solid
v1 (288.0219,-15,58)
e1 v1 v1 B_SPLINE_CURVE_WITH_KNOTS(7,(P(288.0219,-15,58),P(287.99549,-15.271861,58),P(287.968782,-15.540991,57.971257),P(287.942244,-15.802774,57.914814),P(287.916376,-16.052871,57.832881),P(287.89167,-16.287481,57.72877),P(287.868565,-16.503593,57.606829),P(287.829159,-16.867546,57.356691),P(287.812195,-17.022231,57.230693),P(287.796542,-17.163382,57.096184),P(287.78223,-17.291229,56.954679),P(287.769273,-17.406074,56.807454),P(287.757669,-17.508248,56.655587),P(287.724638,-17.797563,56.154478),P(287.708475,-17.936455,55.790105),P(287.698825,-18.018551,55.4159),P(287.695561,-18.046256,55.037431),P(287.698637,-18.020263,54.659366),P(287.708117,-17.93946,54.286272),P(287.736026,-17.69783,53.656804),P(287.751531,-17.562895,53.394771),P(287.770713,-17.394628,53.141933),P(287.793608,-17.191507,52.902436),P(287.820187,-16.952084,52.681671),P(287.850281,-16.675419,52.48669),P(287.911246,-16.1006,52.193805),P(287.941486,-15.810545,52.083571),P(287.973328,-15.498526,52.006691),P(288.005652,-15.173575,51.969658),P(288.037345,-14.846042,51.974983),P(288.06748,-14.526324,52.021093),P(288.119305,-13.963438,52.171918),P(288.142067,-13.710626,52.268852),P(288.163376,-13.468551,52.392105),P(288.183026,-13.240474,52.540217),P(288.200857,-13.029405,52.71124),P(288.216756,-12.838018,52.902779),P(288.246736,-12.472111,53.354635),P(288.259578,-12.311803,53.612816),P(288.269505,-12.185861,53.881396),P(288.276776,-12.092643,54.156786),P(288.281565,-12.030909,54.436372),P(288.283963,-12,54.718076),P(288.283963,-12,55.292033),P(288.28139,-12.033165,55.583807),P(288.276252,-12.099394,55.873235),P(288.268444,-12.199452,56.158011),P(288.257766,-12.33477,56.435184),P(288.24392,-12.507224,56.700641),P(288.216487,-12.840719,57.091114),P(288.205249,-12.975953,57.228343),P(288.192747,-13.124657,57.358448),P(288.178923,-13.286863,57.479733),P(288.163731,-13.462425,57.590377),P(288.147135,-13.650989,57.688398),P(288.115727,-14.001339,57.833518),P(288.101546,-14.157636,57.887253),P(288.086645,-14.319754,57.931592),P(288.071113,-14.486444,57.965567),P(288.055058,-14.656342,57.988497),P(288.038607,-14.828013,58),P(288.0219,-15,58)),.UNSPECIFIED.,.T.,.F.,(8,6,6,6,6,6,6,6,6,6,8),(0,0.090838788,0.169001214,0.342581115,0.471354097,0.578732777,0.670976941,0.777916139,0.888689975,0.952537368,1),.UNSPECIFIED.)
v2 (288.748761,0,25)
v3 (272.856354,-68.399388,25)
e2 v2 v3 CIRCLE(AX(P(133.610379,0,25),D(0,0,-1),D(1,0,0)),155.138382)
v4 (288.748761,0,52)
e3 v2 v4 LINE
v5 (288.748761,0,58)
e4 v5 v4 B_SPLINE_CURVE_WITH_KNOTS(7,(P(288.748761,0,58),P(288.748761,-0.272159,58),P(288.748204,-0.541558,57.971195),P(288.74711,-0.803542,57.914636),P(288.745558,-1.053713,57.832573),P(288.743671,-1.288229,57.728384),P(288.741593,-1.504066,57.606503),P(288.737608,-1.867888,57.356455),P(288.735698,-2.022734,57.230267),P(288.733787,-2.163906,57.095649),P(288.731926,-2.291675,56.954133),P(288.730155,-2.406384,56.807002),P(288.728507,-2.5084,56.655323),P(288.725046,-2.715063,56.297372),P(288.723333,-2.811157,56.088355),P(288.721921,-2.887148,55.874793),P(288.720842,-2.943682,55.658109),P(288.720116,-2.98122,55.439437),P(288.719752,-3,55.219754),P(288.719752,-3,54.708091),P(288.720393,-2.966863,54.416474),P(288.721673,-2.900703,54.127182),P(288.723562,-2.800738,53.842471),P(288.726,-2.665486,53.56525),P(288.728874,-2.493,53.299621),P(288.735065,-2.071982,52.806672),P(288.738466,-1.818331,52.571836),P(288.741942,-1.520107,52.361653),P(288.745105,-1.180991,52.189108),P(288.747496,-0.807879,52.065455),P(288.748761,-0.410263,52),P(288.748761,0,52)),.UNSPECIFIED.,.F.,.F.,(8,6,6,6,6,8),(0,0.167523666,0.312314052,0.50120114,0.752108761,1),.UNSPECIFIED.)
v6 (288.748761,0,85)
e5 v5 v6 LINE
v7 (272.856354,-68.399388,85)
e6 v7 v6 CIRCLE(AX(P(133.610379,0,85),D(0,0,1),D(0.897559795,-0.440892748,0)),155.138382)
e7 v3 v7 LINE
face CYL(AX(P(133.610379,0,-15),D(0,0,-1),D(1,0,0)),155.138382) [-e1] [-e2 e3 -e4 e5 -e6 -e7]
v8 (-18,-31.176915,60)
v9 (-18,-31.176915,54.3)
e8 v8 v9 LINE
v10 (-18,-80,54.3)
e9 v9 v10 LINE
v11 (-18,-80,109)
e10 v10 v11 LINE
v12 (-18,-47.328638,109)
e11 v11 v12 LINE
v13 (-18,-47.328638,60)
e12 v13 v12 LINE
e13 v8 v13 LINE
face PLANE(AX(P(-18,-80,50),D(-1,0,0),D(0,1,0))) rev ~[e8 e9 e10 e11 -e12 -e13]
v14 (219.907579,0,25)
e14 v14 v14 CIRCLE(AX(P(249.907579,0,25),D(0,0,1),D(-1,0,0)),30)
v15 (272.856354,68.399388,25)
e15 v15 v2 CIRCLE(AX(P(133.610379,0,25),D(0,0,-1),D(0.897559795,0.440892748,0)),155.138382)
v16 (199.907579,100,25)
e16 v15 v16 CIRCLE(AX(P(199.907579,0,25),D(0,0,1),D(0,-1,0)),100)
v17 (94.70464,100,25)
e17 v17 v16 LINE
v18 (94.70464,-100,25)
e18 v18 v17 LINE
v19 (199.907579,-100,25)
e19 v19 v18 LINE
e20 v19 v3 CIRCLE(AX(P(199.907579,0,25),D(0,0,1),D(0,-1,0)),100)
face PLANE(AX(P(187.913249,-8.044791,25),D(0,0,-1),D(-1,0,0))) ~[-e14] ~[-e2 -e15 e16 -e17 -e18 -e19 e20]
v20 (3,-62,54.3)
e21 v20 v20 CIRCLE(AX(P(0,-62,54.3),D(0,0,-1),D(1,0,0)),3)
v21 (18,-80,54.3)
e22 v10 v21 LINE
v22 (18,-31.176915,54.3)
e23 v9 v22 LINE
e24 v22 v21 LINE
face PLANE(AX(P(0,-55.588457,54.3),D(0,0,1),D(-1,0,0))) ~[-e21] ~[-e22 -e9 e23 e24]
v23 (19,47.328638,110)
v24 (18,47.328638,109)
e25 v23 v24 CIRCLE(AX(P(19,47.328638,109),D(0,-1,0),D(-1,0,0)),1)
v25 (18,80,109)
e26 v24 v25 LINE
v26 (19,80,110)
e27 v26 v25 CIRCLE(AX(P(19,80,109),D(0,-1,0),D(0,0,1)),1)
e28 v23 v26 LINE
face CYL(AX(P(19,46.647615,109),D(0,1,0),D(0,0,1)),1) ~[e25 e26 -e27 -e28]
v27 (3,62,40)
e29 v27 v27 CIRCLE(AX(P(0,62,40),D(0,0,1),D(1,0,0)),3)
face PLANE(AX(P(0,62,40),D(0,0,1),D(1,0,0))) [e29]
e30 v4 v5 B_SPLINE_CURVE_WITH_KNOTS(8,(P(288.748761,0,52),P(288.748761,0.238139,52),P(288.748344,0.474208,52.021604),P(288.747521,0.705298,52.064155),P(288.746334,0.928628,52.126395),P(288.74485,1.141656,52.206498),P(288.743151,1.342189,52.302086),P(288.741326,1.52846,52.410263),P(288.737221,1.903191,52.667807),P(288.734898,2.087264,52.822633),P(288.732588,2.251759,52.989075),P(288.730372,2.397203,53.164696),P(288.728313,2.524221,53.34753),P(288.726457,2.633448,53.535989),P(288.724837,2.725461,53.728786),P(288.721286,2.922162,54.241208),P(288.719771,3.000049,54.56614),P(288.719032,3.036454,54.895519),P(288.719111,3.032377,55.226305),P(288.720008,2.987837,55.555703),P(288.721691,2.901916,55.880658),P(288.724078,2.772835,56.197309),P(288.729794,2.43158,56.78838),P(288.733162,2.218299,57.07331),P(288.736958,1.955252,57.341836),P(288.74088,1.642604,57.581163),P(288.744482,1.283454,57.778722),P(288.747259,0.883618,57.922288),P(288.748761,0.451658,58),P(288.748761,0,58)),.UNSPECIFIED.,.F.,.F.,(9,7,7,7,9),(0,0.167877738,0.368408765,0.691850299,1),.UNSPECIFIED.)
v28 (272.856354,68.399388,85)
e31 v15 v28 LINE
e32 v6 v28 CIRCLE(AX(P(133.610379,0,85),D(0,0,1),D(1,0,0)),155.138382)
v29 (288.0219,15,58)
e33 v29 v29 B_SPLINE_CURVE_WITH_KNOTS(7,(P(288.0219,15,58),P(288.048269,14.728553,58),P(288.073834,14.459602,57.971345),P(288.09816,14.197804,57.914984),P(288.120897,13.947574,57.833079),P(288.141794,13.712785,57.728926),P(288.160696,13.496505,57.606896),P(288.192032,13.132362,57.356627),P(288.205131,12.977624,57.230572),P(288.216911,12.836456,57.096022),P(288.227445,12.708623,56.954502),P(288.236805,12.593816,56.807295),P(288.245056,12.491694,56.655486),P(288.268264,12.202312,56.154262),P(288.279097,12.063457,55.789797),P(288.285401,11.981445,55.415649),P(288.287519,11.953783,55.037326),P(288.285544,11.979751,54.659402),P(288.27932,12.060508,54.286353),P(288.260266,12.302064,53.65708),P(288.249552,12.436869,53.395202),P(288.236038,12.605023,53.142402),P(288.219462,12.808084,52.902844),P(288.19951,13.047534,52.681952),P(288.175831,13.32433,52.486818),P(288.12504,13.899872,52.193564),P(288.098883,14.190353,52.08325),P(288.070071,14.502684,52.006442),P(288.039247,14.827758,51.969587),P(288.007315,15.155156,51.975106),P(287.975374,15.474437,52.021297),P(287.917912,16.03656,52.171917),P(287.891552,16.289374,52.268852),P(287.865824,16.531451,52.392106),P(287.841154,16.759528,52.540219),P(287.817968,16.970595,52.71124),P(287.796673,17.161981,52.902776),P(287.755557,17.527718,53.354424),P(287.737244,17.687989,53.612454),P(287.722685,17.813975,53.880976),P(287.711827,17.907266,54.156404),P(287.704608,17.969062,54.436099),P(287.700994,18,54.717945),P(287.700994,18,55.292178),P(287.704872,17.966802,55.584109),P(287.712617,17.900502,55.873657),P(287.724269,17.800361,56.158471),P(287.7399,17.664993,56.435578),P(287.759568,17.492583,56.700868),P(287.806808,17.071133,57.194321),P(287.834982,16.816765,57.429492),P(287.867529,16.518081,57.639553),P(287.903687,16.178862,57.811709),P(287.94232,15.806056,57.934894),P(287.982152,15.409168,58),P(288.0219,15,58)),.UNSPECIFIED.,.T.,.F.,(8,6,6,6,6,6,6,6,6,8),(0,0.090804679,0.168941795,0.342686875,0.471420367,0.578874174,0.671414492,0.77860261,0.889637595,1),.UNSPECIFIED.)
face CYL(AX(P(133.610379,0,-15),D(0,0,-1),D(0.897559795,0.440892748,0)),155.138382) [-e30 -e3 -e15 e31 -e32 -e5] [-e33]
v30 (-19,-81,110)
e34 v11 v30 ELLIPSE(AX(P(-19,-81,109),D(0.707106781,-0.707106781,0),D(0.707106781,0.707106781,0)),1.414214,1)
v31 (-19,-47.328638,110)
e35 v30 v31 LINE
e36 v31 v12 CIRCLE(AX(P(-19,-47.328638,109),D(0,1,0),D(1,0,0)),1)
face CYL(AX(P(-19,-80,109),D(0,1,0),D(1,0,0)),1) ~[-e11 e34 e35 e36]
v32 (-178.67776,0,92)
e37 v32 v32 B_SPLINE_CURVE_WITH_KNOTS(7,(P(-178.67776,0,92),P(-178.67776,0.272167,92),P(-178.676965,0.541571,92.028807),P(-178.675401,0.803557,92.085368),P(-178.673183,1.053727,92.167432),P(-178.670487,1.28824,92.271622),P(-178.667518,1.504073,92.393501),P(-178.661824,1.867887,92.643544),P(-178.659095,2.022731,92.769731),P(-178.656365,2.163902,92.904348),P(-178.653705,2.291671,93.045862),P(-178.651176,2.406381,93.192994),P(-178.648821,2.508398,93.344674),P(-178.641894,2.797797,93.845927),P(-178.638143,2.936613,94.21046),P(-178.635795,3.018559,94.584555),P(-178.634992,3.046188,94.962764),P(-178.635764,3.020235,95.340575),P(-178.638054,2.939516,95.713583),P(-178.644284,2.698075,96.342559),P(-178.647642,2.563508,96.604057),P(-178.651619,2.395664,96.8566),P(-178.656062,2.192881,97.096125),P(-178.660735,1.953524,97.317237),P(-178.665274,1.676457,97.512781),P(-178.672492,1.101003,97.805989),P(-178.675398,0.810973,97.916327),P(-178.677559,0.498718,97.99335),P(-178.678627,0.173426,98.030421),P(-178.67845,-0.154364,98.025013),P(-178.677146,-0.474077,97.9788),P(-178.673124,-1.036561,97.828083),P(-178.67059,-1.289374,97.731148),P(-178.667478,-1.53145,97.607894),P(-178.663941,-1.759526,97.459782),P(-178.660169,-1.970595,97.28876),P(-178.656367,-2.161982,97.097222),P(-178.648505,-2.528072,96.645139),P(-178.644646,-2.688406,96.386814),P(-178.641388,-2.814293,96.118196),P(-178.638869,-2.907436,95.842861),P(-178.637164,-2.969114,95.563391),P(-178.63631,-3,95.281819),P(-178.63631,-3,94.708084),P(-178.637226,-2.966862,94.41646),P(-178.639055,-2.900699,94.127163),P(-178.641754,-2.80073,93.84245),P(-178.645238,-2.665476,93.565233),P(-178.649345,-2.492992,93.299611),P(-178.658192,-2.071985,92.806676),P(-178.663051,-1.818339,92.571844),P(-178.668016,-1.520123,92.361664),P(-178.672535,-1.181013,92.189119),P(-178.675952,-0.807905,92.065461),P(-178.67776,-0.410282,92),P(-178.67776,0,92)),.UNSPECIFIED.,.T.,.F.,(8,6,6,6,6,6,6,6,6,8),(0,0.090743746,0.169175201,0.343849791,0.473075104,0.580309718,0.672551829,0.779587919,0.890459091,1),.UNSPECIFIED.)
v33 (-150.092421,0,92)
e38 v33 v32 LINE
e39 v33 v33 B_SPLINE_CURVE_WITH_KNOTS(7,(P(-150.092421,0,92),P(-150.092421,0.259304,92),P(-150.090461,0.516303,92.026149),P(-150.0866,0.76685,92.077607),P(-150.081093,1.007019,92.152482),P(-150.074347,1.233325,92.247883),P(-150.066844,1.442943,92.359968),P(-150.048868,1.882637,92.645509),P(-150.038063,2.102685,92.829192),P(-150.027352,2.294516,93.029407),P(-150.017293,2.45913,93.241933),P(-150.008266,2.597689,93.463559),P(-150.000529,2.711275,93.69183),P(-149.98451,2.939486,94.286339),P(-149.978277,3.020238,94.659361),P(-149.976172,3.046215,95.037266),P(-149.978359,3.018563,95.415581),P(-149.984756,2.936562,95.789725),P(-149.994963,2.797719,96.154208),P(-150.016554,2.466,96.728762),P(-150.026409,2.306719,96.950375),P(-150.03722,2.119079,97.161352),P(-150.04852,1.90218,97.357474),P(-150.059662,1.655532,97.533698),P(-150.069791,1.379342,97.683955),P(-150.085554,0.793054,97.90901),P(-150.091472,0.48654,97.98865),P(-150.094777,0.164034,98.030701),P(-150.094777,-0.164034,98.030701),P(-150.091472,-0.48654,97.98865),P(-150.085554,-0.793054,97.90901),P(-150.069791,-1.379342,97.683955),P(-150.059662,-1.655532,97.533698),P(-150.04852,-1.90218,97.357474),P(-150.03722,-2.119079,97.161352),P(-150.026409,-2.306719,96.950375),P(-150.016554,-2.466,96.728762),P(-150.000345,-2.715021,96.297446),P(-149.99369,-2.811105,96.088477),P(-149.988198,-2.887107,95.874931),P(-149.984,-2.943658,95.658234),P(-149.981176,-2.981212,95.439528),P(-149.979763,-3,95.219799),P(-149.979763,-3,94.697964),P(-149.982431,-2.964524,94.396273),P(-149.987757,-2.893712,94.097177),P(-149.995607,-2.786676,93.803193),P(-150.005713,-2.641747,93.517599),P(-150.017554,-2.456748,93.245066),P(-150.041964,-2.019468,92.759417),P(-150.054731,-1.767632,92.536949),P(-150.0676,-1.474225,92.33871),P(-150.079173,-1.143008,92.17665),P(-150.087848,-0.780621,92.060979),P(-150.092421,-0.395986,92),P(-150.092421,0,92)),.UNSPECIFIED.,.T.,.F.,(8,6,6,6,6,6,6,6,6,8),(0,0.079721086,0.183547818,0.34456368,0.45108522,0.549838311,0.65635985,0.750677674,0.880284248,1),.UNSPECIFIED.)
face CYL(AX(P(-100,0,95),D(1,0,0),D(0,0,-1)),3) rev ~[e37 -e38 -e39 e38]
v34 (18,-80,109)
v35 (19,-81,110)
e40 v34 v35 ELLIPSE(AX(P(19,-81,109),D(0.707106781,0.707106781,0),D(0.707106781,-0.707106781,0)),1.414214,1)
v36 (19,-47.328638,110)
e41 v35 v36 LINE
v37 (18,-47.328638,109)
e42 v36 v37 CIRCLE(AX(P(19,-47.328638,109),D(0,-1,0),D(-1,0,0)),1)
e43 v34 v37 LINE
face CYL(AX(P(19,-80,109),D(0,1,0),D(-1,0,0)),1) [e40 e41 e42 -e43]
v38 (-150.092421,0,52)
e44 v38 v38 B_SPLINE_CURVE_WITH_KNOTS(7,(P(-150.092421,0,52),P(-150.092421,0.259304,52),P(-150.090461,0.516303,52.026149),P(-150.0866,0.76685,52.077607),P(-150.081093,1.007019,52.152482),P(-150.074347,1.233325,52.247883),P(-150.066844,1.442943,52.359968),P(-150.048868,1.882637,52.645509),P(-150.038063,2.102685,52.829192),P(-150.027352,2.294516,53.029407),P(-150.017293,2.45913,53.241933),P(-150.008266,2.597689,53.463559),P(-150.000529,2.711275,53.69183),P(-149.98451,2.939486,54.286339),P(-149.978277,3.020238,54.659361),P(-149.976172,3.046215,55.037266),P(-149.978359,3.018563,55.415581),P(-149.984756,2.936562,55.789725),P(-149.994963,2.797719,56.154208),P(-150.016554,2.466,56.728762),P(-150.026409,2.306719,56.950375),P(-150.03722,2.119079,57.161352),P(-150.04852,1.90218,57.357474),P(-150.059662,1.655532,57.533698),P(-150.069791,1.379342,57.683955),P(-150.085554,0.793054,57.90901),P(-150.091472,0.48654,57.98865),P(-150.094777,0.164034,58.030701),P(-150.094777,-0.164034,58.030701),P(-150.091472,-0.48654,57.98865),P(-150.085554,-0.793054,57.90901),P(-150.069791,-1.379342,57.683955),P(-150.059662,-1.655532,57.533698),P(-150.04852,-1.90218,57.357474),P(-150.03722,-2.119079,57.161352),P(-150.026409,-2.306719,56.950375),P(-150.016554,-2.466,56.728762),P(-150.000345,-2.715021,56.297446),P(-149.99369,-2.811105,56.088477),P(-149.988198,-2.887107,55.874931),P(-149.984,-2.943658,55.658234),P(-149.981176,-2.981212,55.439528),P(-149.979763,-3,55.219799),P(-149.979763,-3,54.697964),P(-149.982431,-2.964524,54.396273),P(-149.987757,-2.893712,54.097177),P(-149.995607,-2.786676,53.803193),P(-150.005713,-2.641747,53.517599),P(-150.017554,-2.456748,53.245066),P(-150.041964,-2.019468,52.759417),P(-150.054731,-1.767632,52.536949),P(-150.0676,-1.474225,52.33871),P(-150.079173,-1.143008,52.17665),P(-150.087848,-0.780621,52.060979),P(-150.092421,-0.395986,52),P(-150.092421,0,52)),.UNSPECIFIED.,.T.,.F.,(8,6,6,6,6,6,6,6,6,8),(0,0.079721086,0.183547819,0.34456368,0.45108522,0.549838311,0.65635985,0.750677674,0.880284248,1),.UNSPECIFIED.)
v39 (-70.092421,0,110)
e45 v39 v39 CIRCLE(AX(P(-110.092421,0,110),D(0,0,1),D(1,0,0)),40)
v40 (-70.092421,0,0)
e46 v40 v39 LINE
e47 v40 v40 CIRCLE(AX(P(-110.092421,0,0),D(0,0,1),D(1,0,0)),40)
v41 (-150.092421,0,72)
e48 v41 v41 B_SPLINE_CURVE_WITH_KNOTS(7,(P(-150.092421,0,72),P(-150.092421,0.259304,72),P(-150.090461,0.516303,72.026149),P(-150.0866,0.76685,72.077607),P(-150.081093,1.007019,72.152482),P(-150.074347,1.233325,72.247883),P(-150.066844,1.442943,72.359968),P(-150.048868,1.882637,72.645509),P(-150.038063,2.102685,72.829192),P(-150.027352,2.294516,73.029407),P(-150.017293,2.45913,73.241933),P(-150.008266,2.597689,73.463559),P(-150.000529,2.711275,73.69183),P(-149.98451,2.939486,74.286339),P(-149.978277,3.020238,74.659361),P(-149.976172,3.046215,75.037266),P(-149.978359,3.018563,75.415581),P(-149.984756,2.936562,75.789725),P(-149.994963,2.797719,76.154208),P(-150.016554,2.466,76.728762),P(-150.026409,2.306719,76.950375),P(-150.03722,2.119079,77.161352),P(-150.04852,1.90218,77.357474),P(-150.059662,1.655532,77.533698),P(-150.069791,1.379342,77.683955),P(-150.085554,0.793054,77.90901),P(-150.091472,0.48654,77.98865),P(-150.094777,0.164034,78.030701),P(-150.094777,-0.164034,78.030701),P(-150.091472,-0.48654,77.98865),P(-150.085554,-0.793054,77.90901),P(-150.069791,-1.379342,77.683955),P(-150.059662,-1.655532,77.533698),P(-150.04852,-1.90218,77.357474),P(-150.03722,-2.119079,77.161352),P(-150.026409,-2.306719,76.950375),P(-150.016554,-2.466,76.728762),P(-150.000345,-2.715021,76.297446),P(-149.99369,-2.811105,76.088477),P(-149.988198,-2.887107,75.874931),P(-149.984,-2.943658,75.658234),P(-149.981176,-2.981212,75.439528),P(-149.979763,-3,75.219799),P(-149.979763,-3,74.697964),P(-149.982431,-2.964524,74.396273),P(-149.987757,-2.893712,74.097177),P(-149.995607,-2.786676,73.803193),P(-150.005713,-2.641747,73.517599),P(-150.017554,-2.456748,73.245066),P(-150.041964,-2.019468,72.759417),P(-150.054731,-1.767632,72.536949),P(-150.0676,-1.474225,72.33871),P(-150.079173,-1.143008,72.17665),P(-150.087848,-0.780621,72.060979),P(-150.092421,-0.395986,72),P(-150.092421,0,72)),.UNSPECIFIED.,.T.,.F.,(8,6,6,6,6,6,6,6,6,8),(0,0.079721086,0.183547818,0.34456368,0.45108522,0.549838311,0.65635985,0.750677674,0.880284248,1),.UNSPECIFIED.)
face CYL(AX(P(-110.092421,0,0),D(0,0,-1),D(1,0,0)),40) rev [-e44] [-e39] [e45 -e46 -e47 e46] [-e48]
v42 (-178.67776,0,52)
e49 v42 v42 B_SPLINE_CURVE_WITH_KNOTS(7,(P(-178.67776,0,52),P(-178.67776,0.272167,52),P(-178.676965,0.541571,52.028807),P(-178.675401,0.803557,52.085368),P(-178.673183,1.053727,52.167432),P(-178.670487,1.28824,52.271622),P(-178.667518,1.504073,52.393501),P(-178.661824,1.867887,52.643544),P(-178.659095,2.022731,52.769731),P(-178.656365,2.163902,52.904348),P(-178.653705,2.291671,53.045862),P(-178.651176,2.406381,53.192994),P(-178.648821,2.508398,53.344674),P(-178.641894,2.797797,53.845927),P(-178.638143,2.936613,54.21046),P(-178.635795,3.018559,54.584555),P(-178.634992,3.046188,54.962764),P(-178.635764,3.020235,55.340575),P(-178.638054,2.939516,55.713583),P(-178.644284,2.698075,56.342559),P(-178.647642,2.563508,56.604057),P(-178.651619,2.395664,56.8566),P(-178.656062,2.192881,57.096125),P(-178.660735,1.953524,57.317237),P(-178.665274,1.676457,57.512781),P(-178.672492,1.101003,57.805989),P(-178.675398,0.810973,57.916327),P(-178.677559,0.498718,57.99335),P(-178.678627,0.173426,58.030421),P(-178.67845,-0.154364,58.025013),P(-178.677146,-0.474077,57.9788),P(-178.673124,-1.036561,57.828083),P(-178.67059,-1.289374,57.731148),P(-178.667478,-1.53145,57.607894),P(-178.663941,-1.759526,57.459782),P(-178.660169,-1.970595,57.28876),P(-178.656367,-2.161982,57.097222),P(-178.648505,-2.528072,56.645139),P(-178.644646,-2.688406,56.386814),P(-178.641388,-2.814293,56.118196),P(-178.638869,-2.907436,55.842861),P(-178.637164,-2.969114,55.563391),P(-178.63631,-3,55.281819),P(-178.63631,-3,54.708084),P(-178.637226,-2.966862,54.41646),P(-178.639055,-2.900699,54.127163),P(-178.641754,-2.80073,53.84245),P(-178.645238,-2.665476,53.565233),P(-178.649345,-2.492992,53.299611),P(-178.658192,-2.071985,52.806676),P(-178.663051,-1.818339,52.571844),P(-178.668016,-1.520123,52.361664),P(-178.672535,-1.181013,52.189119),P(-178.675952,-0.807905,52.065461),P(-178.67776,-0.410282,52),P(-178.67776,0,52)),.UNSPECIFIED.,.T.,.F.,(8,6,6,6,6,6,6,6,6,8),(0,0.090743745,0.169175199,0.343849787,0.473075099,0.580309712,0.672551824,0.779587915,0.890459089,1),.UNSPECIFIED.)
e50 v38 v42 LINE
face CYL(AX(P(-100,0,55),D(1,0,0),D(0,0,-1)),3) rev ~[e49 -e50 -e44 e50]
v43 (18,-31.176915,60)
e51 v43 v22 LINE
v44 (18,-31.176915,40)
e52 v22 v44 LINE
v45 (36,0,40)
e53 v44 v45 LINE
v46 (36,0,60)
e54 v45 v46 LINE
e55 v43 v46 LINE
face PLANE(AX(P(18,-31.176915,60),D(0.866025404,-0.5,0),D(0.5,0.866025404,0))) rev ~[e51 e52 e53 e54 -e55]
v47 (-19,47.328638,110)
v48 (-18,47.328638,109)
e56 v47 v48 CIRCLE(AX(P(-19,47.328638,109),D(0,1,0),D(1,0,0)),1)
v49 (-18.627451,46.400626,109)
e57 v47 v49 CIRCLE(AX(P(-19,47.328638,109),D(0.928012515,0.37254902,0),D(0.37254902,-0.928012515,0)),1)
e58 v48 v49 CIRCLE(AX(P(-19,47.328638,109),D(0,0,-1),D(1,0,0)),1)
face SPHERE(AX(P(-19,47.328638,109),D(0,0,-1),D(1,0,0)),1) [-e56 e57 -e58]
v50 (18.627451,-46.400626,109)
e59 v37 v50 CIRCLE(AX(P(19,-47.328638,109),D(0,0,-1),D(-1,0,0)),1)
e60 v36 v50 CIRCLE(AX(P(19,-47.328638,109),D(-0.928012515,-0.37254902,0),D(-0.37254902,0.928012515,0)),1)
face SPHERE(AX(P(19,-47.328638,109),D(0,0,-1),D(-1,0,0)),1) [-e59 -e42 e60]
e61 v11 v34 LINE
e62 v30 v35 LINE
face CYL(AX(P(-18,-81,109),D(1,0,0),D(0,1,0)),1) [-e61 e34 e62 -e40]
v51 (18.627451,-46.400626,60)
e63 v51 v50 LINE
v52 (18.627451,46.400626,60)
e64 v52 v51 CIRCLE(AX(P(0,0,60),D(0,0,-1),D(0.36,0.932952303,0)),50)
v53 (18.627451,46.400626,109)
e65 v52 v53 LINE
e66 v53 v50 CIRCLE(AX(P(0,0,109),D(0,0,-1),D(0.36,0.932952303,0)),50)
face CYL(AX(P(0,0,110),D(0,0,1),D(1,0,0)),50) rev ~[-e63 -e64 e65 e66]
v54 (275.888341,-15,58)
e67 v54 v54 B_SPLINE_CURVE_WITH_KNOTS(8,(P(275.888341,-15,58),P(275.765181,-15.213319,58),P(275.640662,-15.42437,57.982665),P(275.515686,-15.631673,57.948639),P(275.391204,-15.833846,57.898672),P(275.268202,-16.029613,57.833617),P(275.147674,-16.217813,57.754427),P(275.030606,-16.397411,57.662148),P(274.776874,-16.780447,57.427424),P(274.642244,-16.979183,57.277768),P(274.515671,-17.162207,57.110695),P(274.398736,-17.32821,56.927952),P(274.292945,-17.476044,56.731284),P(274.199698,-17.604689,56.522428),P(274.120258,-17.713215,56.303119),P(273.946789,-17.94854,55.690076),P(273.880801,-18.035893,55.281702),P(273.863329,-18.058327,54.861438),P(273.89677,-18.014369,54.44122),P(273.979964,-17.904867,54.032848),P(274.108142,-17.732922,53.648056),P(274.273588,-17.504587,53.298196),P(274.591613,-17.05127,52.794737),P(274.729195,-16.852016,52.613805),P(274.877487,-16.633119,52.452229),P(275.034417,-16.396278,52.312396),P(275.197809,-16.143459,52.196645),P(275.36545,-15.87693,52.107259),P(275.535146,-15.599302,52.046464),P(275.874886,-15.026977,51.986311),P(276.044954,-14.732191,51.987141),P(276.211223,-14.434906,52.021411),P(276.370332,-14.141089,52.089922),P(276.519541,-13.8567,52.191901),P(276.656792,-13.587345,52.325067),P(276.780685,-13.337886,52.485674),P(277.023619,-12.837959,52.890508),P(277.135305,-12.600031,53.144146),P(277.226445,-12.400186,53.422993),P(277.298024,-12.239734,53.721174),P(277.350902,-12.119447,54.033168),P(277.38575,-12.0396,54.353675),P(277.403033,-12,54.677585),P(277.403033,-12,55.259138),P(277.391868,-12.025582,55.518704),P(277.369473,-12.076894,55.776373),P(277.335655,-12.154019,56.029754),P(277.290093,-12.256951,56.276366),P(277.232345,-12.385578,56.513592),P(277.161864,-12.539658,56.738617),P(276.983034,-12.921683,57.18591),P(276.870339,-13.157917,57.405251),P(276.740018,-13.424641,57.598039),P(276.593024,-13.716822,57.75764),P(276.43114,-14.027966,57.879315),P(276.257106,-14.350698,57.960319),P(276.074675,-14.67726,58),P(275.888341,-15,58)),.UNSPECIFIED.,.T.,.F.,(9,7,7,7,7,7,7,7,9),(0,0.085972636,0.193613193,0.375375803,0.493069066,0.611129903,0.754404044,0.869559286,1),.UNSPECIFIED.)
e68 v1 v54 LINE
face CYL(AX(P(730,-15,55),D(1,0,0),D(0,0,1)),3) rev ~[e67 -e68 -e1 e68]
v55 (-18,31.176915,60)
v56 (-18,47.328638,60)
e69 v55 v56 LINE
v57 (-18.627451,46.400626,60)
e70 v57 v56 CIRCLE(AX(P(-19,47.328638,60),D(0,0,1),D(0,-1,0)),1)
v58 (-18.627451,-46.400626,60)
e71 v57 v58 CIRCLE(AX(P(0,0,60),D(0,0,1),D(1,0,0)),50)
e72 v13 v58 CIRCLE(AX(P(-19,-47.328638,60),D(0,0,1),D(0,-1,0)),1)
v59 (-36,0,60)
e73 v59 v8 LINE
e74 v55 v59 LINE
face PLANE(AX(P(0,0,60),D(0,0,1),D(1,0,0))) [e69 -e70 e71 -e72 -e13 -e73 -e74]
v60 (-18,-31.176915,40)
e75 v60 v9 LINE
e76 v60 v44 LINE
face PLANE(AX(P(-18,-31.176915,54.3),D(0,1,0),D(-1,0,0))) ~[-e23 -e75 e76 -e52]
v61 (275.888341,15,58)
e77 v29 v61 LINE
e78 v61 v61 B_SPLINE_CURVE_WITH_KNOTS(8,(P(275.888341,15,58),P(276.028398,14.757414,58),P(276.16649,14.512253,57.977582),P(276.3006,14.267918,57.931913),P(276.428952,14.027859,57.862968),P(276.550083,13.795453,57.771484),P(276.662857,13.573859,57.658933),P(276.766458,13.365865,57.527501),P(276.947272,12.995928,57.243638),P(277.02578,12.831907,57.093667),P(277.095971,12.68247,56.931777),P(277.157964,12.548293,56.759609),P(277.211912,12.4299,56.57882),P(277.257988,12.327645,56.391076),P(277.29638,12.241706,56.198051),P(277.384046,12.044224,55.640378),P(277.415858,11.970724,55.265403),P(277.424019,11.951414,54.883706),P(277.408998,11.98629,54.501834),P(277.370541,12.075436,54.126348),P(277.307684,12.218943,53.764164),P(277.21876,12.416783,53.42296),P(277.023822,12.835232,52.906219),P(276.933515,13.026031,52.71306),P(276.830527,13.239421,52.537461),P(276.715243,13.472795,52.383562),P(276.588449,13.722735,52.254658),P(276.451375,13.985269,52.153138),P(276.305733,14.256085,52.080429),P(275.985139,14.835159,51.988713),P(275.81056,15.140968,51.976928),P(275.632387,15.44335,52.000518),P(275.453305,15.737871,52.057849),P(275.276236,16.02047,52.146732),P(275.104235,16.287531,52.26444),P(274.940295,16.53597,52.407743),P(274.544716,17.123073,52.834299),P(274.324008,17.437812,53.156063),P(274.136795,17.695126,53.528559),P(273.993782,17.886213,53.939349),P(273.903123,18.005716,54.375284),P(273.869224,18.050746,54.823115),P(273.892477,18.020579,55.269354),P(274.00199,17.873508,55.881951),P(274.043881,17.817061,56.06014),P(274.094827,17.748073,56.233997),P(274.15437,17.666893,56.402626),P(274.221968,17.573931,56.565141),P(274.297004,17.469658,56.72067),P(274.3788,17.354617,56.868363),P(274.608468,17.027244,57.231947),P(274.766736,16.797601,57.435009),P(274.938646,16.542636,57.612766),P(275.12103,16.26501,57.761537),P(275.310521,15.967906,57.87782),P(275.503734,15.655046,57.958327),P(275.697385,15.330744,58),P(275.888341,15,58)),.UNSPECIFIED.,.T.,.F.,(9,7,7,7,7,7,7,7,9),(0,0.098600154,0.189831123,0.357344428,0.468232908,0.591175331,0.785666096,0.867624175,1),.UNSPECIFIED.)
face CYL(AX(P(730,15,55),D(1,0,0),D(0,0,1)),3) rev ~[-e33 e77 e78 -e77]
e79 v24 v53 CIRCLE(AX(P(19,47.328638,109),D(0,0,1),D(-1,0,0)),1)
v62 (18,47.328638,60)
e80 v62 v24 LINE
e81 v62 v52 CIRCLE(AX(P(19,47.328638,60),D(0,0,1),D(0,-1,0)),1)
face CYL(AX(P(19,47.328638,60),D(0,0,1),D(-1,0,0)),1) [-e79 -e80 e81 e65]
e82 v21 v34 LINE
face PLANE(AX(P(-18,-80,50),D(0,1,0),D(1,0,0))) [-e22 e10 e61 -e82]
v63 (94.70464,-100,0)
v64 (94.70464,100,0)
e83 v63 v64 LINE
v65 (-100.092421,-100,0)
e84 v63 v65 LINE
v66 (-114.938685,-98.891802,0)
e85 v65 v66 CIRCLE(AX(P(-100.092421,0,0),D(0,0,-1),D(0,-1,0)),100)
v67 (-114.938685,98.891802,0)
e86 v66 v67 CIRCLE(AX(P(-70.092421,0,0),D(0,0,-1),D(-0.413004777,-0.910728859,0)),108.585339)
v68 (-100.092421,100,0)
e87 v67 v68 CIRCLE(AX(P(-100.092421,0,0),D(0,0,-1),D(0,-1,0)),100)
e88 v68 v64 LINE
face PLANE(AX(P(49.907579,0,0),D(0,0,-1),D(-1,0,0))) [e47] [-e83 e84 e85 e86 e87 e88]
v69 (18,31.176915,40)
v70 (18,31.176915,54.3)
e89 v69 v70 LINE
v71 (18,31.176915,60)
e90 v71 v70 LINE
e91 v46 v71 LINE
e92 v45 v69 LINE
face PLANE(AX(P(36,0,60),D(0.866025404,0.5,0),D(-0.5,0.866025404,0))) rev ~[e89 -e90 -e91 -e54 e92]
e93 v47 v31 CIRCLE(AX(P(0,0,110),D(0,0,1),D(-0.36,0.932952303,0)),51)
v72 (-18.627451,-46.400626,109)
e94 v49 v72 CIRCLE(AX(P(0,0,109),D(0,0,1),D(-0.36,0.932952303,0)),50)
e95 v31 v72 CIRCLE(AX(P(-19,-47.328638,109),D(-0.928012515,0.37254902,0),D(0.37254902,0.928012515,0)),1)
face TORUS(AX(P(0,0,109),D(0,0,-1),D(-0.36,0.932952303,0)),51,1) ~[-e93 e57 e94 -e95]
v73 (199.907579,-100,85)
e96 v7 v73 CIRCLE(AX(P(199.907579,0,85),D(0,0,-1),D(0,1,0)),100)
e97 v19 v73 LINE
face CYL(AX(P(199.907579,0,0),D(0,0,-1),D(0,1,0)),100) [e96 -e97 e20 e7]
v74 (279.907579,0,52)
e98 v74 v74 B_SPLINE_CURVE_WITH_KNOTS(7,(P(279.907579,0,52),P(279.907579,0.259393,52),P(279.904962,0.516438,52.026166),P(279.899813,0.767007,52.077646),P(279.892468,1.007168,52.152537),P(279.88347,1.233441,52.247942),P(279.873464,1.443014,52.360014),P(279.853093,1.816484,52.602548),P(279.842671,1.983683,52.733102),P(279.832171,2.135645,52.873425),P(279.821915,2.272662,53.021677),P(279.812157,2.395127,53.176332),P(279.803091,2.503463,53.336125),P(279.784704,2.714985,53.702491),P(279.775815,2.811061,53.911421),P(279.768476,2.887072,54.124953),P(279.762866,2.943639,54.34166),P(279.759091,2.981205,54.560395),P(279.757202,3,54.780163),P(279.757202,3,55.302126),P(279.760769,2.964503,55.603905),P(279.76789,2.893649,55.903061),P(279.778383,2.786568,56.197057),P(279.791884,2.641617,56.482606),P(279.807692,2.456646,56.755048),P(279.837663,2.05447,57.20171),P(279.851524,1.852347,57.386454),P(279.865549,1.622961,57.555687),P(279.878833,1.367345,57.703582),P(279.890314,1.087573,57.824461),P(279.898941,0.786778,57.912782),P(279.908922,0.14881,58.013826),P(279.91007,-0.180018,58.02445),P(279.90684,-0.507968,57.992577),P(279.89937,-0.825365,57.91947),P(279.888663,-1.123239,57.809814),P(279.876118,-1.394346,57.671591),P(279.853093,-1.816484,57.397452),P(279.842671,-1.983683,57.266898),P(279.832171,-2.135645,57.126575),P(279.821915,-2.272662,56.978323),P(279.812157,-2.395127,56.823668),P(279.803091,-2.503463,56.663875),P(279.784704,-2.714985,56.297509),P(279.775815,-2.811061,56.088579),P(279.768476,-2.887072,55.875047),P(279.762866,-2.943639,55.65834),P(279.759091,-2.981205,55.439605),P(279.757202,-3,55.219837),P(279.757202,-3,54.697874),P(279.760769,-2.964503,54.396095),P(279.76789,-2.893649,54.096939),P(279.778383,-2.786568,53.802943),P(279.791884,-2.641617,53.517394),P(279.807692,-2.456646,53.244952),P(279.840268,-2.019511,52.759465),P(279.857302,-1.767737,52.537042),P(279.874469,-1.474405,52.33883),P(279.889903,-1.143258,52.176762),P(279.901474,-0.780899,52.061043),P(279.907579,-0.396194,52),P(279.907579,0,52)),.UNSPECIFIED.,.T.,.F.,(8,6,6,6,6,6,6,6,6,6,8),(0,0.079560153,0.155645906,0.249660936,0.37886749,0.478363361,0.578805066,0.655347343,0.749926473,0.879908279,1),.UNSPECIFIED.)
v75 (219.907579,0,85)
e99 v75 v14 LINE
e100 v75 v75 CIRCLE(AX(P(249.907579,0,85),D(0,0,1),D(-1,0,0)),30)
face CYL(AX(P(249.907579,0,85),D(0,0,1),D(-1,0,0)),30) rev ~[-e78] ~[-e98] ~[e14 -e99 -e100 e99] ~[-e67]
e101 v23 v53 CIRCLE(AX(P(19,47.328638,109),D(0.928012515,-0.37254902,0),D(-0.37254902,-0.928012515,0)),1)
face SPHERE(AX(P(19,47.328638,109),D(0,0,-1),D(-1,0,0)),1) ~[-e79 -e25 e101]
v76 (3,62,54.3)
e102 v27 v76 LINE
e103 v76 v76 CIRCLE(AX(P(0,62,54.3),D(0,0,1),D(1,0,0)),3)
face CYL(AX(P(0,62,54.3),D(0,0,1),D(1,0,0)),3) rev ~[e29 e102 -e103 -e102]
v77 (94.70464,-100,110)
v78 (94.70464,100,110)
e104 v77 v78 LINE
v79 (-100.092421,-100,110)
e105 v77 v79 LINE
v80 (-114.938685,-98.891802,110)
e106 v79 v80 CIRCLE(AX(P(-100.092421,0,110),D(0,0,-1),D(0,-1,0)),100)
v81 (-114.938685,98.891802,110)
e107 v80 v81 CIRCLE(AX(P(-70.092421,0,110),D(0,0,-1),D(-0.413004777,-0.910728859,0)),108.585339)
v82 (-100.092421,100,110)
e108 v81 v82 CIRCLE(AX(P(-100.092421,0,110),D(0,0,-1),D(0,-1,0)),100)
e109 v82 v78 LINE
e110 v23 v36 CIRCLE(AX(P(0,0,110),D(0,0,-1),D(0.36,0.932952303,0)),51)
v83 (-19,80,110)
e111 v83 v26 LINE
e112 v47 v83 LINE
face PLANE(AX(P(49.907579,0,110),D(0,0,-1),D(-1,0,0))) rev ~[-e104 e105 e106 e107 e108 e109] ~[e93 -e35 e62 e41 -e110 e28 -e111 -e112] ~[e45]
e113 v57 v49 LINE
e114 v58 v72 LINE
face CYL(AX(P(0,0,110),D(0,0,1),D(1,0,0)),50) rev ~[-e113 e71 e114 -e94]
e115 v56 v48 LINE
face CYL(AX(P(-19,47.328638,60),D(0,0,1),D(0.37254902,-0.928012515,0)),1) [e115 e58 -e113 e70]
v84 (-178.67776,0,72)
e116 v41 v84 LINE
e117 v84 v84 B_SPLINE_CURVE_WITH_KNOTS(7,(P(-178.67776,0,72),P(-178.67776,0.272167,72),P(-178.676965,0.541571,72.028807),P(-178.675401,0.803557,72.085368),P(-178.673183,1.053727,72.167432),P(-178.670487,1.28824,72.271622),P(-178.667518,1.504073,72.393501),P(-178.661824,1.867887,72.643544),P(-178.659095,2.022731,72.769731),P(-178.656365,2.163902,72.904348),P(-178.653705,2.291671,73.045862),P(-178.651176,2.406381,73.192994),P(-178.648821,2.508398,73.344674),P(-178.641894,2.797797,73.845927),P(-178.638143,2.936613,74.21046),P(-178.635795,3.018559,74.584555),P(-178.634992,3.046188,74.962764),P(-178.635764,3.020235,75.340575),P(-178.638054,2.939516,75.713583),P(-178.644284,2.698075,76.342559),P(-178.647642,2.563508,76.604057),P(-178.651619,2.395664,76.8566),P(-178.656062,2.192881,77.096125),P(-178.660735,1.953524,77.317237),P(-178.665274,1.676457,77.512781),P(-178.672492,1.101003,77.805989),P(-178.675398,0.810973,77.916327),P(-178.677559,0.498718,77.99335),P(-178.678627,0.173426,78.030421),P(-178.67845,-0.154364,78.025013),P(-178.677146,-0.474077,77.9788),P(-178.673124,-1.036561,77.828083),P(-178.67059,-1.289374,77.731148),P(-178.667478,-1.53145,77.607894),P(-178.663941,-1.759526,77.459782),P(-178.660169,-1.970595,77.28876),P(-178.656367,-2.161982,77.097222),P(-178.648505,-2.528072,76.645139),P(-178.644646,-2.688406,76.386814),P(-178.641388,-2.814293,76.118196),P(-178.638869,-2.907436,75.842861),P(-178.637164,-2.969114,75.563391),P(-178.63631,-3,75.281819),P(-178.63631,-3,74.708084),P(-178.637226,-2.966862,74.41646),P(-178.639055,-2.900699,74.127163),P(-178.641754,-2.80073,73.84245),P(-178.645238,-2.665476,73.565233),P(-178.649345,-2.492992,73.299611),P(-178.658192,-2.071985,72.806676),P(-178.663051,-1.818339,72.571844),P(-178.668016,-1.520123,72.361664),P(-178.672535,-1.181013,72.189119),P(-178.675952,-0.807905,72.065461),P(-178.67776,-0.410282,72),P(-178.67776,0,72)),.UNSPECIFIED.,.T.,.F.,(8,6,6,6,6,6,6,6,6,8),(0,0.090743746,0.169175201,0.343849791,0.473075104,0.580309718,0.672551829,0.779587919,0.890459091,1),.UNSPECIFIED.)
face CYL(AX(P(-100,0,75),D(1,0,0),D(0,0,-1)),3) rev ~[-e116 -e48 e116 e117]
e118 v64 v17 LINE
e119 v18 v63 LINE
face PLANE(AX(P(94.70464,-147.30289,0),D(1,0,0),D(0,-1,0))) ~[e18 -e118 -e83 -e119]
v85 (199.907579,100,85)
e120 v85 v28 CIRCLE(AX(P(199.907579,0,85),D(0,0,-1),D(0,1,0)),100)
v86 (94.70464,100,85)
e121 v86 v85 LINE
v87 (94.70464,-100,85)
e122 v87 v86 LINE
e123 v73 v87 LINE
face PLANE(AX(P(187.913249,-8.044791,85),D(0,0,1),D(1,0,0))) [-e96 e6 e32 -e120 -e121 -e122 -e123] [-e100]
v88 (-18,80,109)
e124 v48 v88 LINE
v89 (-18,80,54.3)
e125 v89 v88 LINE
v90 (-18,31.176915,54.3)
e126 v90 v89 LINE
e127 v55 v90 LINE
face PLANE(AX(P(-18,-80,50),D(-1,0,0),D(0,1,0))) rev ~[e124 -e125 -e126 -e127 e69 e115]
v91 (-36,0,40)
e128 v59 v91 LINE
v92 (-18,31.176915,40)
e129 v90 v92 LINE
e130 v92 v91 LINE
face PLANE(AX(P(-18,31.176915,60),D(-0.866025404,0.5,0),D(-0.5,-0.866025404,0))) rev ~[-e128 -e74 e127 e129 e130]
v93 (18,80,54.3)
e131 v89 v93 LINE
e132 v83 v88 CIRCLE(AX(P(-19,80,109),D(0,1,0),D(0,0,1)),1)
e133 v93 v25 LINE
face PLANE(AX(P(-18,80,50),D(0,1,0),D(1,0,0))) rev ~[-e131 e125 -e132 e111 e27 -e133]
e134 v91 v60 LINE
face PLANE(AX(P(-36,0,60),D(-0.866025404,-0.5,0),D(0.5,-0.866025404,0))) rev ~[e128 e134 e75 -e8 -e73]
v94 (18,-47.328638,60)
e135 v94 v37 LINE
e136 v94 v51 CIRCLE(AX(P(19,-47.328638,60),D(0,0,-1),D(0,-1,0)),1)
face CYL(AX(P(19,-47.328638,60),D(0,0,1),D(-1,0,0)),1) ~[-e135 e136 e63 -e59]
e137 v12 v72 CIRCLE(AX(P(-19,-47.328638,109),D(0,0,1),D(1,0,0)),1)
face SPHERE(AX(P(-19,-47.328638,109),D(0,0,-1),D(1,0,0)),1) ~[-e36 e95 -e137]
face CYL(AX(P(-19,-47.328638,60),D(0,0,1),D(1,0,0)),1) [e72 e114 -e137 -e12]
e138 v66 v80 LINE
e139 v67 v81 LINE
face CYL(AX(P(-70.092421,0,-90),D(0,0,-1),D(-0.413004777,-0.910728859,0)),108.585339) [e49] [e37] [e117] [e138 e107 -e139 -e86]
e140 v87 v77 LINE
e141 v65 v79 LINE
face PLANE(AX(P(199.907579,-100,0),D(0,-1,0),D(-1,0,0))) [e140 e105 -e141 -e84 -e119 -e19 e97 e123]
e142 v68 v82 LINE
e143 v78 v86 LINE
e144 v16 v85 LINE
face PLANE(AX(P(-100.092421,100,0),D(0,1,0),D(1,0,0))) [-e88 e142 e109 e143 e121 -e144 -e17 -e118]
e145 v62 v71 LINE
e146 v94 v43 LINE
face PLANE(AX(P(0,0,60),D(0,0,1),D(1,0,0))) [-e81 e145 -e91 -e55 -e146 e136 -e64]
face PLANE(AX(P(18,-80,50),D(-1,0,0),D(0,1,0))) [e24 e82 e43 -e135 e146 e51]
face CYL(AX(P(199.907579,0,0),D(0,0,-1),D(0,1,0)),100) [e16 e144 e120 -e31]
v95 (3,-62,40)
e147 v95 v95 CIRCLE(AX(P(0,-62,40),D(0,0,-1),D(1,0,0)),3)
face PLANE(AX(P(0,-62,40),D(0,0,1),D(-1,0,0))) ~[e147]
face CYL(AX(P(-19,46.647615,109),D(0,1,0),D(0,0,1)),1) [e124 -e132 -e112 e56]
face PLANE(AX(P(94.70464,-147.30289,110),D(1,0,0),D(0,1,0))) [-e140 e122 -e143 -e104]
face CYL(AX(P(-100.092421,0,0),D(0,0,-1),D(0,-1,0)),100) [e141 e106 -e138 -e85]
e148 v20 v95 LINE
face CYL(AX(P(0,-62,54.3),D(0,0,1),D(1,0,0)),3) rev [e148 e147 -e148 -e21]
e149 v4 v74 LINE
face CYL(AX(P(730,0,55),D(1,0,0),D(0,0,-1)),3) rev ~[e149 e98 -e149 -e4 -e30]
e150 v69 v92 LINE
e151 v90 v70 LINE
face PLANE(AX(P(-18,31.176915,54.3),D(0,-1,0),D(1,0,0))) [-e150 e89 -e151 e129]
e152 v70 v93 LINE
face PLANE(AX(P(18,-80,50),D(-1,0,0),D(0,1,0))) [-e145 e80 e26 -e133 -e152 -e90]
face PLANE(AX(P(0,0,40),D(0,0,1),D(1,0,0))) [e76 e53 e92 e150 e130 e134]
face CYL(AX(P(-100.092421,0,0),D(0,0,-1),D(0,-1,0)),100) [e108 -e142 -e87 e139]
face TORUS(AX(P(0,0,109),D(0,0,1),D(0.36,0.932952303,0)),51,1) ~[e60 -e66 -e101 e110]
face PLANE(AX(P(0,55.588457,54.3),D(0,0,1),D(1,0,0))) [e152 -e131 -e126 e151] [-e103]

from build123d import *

# Parameters (mm, degrees)
SKETCH_1_R           = 40
EXTRUDE_1_DEPTH      = 110
SKETCH_2_R           = 3
CUT_EXTRUDE_2_DEPTH  = 150
SKETCH_3_R           = 50
CUT_EXTRUDE_3_DEPTH  = 50
CUT_EXTRUDE_4_DEPTH  = 10
SKETCH_5_W           = 36
SKETCH_5_H           = 160
CUT_EXTRUDE_7_DEPTH  = 122
CUT_EXTRUDE_8_DEPTH  = 10
SKETCH_7_R           = 3
CUT_EXTRUDE_9_DEPTH  = 10
EXTRUDE_START        = 4.3
EXTRUDE_2_DEPTH      = 4.3
SKETCH_11_W          = 36
SKETCH_11_H          = 48.823085464
SKETCH_11_R          = 3
EXTRUDE_3_DEPTH      = 4.3
CUT_EXTRUDE_START    = -200
CUT_EXTRUDE_16_DEPTH = 200
FILLET_2_R           = 1
CUT_EXTRUDE_START_2  = -25
CUT_EXTRUDE_17_DEPTH = 25
SKETCH_16_R          = 30
CUT_EXTRUDE_18_DEPTH = 100
SKETCH_17_R          = 100
CUT_EXTRUDE_19_DEPTH = 25
CUT_EXTRUDE_START_3  = -100
CUT_EXTRUDE_20_DEPTH = 100
SKETCH_19_W          = 186.41721719
SKETCH_19_H          = 278.516199491
CUT_EXTRUDE_21_DEPTH = 25
CUT_EXTRUDE_START_4  = 500
SKETCH_20_R          = 3
CUT_EXTRUDE_22_DEPTH = 500


with BuildPart() as part:
    # 草图1 → 凸台-拉伸1 (new body)
    with BuildSketch(Plane.XY):
        with BuildLine():
            Line((-100.092421442, 100), (199.907578558, 100))
            ThreePointArc((199.907578558, 100), (299.907578558, 0), (199.907578558, -100))
            Line((199.907578558, -100), (-100.092421442, -100))
            ThreePointArc((-100.092421442, -100), (-200.092421442, 0), (-100.092421442, 100))
        make_face()
        with Locations((-110.092421442, 0)):
            Circle(SKETCH_1_R, mode=Mode.SUBTRACT)
    extrude(amount=EXTRUDE_1_DEPTH)

    # 草图2 → 切除-拉伸2 (cut)
    with BuildSketch(Plane(origin=(-100, 0, 0), x_dir=(0, 0, -1), z_dir=(1, 0, 0))):
        with Locations((-95, 0)):
            Circle(SKETCH_2_R)
        with Locations((-75, 0)):
            Circle(SKETCH_2_R)
        with Locations((-55, 0)):
            Circle(SKETCH_2_R)
    extrude(amount=-CUT_EXTRUDE_2_DEPTH, mode=Mode.SUBTRACT)

    # 草图3 → 切除-拉伸3 (cut)
    with BuildSketch(Plane.XY.offset(110)):
        Circle(SKETCH_3_R)
    extrude(amount=-CUT_EXTRUDE_3_DEPTH, mode=Mode.SUBTRACT)

    # 草图4 → 切除-拉伸4 (cut)
    with BuildSketch(Plane.XY.offset(60)):
        Polygon((36, 0), (18, 31.176914536), (-18, 31.176914536), (-36, 0), (-18, -31.176914536), (18, -31.176914536), align=None)
    extrude(amount=-CUT_EXTRUDE_4_DEPTH, mode=Mode.SUBTRACT)

    # 草图5 → 切除-拉伸7 (cut)
    with BuildSketch(Plane.XY.offset(50)):
        Rectangle(SKETCH_5_W, SKETCH_5_H)
    extrude(amount=CUT_EXTRUDE_7_DEPTH, mode=Mode.SUBTRACT)

    # 草图6 → 切除-拉伸8 (cut)
    with BuildSketch(Plane.XY.offset(50)):
        Polygon((36, 0), (18, 31.176914536), (-18, 31.176914536), (-36, 0), (-18, -31.176914536), (18, -31.176914536), align=None)
    extrude(amount=-CUT_EXTRUDE_8_DEPTH, mode=Mode.SUBTRACT)

    # 草图7 → 切除-拉伸9 (cut)
    with BuildSketch(Plane.XY.offset(50)):
        with Locations((0, 62)):
            Circle(SKETCH_7_R)
    cut_extrude_9 = extrude(amount=-CUT_EXTRUDE_9_DEPTH, mode=Mode.SUBTRACT)

    # 镜向1: 切除-拉伸9 across plane
    add(cut_extrude_9.mirror(Plane.ZX), mode=Mode.SUBTRACT)

    # 草图10 → 凸台-拉伸2 (add)
    with BuildSketch(Plane.XY.offset(40).offset(EXTRUDE_START)):
        with BuildLine():
            Line((36, 0), (18, -31.176914536))
            Line((18, -31.176914536), (18, -46.647615159))
            ThreePointArc((18, -46.647615159), (50, 0), (18, 46.647615159))
            Line((18, 46.647615159), (18, 31.176914536))
            Line((18, 31.176914536), (36, 0))
        make_face()
        with BuildLine():
            Line((-18, -46.647615159), (-18, -31.176914536))
            Line((-18, -31.176914536), (-36, 0))
            Line((-36, 0), (-18, 31.176914536))
            Line((-18, 31.176914536), (-18, 46.647615159))
            ThreePointArc((-18, 46.647615159), (-50, 0), (-18, -46.647615159))
        make_face()
    extrude(amount=-EXTRUDE_2_DEPTH)

    # 草图11 → 凸台-拉伸3 (add)
    with BuildSketch(Plane.XY.offset(50).offset(EXTRUDE_START)):
        with Locations((0, 55.588457268)):
            Rectangle(SKETCH_11_W, SKETCH_11_H)
        with Locations((0, 62)):
            Circle(SKETCH_11_R, mode=Mode.SUBTRACT)
    extrude_3 = extrude(amount=-EXTRUDE_3_DEPTH)

    # 镜向4: 凸台-拉伸3 across plane
    add(extrude_3.mirror(Plane.ZX))

    # 草图14 → 切除-拉伸16 (cut)
    with BuildSketch(Plane.XY.offset(110).offset(CUT_EXTRUDE_START)):
        with BuildLine():
            ThreePointArc((-114.938685096, -98.891801761), (-178.67776032, 0), (-114.938685096, 98.891801761))
            ThreePointArc((-114.938685096, 98.891801761), (-200.092421442, 0), (-114.938685096, -98.891801761))
        make_face()
    extrude(amount=CUT_EXTRUDE_16_DEPTH, mode=Mode.SUBTRACT)

    # 圆角2
    fillet_2_edges = [part.edges().sort_by_distance(p)[0] for p in [
        (18, 46.647615159, 85),
        (18, 63.323807579, 110),
        (-18, 63.323807579, 110),
        (-18, 46.647615159, 85),
        (-18, -46.647615159, 85),
        (-50, 0, 110),
        (-18, -63.323807579, 110),
        (0, -80, 110),
        (18, -46.647615159, 85),
        (18, -63.323807579, 110),
        (50, 0, 110),
    ]]
    fillet(fillet_2_edges, radius=FILLET_2_R)

    # 草图15 → 切除-拉伸17 (cut)
    with BuildSketch(Plane.XY.offset(110).offset(CUT_EXTRUDE_START_2)):
        with BuildLine():
            ThreePointArc((299.907578558, 0), (270.618256677, 70.710678119), (199.907578558, 100))
            Line((199.907578558, 100), (199.907578558, -100))
            ThreePointArc((199.907578558, -100), (270.618256677, -70.710678119), (299.907578558, 0))
        make_face()
    cut_extrude_17 = extrude(amount=CUT_EXTRUDE_17_DEPTH, mode=Mode.SUBTRACT)

    # 镜向5: 切除-拉伸17 across plane
    add(cut_extrude_17.mirror(Plane.XY.offset(55)), mode=Mode.SUBTRACT)

    # 草图16 → 切除-拉伸18 (cut)
    with BuildSketch(Plane.XY.offset(85)):
        with Locations((249.907578558, 0)):
            Circle(SKETCH_16_R)
    extrude(amount=-CUT_EXTRUDE_18_DEPTH, mode=Mode.SUBTRACT)

    # 草图17 → 切除-拉伸19 (cut)
    with BuildSketch(Plane.XY.offset(110).offset(CUT_EXTRUDE_START_2)):
        with Locations((199.907578558, 0)):
            Circle(SKETCH_17_R)
    cut_extrude_19 = extrude(amount=CUT_EXTRUDE_19_DEPTH, mode=Mode.SUBTRACT)

    # 镜向6: 切除-拉伸19 across plane
    add(cut_extrude_19.mirror(Plane.XY.offset(55)), mode=Mode.SUBTRACT)

    # 草图18 → 切除-拉伸20 (cut)
    with BuildSketch(Plane.XY.offset(85).offset(CUT_EXTRUDE_START_3)):
        with BuildLine():
            ThreePointArc((272.856353648, 68.399387519), (284.723437561, 35.110699351), (288.748761353, 0))
            ThreePointArc((288.748761353, 0), (284.723437561, -35.110699351), (272.856353648, -68.399387519))
            ThreePointArc((272.856353648, -68.399387519), (299.907578558, 0), (272.856353648, 68.399387519))
        make_face()
    extrude(amount=CUT_EXTRUDE_20_DEPTH, mode=Mode.SUBTRACT)

    # 草图19 → 切除-拉伸21 (cut)
    with BuildSketch(Plane.XY.offset(110)):
        with Locations((187.913249079, -8.044790623)):
            Rectangle(SKETCH_19_W, SKETCH_19_H)
    cut_extrude_21 = extrude(amount=-CUT_EXTRUDE_21_DEPTH, mode=Mode.SUBTRACT)

    # 镜向7: 切除-拉伸21 across plane
    add(cut_extrude_21.mirror(Plane.XY.offset(55)), mode=Mode.SUBTRACT)

    # 草图20 → 切除-拉伸22 (cut)
    with BuildSketch(Plane(origin=(230, 0, 0), x_dir=(0, 0, -1), z_dir=(1, 0, 0)).offset(CUT_EXTRUDE_START_4)):
        with Locations((-55, 0)):
            Circle(SKETCH_20_R)
        with Locations((-55, 15)):
            Circle(SKETCH_20_R)
        with Locations((-55, -15)):
            Circle(SKETCH_20_R)
    extrude(amount=-CUT_EXTRUDE_22_DEPTH, mode=Mode.SUBTRACT)


solid = part.part
